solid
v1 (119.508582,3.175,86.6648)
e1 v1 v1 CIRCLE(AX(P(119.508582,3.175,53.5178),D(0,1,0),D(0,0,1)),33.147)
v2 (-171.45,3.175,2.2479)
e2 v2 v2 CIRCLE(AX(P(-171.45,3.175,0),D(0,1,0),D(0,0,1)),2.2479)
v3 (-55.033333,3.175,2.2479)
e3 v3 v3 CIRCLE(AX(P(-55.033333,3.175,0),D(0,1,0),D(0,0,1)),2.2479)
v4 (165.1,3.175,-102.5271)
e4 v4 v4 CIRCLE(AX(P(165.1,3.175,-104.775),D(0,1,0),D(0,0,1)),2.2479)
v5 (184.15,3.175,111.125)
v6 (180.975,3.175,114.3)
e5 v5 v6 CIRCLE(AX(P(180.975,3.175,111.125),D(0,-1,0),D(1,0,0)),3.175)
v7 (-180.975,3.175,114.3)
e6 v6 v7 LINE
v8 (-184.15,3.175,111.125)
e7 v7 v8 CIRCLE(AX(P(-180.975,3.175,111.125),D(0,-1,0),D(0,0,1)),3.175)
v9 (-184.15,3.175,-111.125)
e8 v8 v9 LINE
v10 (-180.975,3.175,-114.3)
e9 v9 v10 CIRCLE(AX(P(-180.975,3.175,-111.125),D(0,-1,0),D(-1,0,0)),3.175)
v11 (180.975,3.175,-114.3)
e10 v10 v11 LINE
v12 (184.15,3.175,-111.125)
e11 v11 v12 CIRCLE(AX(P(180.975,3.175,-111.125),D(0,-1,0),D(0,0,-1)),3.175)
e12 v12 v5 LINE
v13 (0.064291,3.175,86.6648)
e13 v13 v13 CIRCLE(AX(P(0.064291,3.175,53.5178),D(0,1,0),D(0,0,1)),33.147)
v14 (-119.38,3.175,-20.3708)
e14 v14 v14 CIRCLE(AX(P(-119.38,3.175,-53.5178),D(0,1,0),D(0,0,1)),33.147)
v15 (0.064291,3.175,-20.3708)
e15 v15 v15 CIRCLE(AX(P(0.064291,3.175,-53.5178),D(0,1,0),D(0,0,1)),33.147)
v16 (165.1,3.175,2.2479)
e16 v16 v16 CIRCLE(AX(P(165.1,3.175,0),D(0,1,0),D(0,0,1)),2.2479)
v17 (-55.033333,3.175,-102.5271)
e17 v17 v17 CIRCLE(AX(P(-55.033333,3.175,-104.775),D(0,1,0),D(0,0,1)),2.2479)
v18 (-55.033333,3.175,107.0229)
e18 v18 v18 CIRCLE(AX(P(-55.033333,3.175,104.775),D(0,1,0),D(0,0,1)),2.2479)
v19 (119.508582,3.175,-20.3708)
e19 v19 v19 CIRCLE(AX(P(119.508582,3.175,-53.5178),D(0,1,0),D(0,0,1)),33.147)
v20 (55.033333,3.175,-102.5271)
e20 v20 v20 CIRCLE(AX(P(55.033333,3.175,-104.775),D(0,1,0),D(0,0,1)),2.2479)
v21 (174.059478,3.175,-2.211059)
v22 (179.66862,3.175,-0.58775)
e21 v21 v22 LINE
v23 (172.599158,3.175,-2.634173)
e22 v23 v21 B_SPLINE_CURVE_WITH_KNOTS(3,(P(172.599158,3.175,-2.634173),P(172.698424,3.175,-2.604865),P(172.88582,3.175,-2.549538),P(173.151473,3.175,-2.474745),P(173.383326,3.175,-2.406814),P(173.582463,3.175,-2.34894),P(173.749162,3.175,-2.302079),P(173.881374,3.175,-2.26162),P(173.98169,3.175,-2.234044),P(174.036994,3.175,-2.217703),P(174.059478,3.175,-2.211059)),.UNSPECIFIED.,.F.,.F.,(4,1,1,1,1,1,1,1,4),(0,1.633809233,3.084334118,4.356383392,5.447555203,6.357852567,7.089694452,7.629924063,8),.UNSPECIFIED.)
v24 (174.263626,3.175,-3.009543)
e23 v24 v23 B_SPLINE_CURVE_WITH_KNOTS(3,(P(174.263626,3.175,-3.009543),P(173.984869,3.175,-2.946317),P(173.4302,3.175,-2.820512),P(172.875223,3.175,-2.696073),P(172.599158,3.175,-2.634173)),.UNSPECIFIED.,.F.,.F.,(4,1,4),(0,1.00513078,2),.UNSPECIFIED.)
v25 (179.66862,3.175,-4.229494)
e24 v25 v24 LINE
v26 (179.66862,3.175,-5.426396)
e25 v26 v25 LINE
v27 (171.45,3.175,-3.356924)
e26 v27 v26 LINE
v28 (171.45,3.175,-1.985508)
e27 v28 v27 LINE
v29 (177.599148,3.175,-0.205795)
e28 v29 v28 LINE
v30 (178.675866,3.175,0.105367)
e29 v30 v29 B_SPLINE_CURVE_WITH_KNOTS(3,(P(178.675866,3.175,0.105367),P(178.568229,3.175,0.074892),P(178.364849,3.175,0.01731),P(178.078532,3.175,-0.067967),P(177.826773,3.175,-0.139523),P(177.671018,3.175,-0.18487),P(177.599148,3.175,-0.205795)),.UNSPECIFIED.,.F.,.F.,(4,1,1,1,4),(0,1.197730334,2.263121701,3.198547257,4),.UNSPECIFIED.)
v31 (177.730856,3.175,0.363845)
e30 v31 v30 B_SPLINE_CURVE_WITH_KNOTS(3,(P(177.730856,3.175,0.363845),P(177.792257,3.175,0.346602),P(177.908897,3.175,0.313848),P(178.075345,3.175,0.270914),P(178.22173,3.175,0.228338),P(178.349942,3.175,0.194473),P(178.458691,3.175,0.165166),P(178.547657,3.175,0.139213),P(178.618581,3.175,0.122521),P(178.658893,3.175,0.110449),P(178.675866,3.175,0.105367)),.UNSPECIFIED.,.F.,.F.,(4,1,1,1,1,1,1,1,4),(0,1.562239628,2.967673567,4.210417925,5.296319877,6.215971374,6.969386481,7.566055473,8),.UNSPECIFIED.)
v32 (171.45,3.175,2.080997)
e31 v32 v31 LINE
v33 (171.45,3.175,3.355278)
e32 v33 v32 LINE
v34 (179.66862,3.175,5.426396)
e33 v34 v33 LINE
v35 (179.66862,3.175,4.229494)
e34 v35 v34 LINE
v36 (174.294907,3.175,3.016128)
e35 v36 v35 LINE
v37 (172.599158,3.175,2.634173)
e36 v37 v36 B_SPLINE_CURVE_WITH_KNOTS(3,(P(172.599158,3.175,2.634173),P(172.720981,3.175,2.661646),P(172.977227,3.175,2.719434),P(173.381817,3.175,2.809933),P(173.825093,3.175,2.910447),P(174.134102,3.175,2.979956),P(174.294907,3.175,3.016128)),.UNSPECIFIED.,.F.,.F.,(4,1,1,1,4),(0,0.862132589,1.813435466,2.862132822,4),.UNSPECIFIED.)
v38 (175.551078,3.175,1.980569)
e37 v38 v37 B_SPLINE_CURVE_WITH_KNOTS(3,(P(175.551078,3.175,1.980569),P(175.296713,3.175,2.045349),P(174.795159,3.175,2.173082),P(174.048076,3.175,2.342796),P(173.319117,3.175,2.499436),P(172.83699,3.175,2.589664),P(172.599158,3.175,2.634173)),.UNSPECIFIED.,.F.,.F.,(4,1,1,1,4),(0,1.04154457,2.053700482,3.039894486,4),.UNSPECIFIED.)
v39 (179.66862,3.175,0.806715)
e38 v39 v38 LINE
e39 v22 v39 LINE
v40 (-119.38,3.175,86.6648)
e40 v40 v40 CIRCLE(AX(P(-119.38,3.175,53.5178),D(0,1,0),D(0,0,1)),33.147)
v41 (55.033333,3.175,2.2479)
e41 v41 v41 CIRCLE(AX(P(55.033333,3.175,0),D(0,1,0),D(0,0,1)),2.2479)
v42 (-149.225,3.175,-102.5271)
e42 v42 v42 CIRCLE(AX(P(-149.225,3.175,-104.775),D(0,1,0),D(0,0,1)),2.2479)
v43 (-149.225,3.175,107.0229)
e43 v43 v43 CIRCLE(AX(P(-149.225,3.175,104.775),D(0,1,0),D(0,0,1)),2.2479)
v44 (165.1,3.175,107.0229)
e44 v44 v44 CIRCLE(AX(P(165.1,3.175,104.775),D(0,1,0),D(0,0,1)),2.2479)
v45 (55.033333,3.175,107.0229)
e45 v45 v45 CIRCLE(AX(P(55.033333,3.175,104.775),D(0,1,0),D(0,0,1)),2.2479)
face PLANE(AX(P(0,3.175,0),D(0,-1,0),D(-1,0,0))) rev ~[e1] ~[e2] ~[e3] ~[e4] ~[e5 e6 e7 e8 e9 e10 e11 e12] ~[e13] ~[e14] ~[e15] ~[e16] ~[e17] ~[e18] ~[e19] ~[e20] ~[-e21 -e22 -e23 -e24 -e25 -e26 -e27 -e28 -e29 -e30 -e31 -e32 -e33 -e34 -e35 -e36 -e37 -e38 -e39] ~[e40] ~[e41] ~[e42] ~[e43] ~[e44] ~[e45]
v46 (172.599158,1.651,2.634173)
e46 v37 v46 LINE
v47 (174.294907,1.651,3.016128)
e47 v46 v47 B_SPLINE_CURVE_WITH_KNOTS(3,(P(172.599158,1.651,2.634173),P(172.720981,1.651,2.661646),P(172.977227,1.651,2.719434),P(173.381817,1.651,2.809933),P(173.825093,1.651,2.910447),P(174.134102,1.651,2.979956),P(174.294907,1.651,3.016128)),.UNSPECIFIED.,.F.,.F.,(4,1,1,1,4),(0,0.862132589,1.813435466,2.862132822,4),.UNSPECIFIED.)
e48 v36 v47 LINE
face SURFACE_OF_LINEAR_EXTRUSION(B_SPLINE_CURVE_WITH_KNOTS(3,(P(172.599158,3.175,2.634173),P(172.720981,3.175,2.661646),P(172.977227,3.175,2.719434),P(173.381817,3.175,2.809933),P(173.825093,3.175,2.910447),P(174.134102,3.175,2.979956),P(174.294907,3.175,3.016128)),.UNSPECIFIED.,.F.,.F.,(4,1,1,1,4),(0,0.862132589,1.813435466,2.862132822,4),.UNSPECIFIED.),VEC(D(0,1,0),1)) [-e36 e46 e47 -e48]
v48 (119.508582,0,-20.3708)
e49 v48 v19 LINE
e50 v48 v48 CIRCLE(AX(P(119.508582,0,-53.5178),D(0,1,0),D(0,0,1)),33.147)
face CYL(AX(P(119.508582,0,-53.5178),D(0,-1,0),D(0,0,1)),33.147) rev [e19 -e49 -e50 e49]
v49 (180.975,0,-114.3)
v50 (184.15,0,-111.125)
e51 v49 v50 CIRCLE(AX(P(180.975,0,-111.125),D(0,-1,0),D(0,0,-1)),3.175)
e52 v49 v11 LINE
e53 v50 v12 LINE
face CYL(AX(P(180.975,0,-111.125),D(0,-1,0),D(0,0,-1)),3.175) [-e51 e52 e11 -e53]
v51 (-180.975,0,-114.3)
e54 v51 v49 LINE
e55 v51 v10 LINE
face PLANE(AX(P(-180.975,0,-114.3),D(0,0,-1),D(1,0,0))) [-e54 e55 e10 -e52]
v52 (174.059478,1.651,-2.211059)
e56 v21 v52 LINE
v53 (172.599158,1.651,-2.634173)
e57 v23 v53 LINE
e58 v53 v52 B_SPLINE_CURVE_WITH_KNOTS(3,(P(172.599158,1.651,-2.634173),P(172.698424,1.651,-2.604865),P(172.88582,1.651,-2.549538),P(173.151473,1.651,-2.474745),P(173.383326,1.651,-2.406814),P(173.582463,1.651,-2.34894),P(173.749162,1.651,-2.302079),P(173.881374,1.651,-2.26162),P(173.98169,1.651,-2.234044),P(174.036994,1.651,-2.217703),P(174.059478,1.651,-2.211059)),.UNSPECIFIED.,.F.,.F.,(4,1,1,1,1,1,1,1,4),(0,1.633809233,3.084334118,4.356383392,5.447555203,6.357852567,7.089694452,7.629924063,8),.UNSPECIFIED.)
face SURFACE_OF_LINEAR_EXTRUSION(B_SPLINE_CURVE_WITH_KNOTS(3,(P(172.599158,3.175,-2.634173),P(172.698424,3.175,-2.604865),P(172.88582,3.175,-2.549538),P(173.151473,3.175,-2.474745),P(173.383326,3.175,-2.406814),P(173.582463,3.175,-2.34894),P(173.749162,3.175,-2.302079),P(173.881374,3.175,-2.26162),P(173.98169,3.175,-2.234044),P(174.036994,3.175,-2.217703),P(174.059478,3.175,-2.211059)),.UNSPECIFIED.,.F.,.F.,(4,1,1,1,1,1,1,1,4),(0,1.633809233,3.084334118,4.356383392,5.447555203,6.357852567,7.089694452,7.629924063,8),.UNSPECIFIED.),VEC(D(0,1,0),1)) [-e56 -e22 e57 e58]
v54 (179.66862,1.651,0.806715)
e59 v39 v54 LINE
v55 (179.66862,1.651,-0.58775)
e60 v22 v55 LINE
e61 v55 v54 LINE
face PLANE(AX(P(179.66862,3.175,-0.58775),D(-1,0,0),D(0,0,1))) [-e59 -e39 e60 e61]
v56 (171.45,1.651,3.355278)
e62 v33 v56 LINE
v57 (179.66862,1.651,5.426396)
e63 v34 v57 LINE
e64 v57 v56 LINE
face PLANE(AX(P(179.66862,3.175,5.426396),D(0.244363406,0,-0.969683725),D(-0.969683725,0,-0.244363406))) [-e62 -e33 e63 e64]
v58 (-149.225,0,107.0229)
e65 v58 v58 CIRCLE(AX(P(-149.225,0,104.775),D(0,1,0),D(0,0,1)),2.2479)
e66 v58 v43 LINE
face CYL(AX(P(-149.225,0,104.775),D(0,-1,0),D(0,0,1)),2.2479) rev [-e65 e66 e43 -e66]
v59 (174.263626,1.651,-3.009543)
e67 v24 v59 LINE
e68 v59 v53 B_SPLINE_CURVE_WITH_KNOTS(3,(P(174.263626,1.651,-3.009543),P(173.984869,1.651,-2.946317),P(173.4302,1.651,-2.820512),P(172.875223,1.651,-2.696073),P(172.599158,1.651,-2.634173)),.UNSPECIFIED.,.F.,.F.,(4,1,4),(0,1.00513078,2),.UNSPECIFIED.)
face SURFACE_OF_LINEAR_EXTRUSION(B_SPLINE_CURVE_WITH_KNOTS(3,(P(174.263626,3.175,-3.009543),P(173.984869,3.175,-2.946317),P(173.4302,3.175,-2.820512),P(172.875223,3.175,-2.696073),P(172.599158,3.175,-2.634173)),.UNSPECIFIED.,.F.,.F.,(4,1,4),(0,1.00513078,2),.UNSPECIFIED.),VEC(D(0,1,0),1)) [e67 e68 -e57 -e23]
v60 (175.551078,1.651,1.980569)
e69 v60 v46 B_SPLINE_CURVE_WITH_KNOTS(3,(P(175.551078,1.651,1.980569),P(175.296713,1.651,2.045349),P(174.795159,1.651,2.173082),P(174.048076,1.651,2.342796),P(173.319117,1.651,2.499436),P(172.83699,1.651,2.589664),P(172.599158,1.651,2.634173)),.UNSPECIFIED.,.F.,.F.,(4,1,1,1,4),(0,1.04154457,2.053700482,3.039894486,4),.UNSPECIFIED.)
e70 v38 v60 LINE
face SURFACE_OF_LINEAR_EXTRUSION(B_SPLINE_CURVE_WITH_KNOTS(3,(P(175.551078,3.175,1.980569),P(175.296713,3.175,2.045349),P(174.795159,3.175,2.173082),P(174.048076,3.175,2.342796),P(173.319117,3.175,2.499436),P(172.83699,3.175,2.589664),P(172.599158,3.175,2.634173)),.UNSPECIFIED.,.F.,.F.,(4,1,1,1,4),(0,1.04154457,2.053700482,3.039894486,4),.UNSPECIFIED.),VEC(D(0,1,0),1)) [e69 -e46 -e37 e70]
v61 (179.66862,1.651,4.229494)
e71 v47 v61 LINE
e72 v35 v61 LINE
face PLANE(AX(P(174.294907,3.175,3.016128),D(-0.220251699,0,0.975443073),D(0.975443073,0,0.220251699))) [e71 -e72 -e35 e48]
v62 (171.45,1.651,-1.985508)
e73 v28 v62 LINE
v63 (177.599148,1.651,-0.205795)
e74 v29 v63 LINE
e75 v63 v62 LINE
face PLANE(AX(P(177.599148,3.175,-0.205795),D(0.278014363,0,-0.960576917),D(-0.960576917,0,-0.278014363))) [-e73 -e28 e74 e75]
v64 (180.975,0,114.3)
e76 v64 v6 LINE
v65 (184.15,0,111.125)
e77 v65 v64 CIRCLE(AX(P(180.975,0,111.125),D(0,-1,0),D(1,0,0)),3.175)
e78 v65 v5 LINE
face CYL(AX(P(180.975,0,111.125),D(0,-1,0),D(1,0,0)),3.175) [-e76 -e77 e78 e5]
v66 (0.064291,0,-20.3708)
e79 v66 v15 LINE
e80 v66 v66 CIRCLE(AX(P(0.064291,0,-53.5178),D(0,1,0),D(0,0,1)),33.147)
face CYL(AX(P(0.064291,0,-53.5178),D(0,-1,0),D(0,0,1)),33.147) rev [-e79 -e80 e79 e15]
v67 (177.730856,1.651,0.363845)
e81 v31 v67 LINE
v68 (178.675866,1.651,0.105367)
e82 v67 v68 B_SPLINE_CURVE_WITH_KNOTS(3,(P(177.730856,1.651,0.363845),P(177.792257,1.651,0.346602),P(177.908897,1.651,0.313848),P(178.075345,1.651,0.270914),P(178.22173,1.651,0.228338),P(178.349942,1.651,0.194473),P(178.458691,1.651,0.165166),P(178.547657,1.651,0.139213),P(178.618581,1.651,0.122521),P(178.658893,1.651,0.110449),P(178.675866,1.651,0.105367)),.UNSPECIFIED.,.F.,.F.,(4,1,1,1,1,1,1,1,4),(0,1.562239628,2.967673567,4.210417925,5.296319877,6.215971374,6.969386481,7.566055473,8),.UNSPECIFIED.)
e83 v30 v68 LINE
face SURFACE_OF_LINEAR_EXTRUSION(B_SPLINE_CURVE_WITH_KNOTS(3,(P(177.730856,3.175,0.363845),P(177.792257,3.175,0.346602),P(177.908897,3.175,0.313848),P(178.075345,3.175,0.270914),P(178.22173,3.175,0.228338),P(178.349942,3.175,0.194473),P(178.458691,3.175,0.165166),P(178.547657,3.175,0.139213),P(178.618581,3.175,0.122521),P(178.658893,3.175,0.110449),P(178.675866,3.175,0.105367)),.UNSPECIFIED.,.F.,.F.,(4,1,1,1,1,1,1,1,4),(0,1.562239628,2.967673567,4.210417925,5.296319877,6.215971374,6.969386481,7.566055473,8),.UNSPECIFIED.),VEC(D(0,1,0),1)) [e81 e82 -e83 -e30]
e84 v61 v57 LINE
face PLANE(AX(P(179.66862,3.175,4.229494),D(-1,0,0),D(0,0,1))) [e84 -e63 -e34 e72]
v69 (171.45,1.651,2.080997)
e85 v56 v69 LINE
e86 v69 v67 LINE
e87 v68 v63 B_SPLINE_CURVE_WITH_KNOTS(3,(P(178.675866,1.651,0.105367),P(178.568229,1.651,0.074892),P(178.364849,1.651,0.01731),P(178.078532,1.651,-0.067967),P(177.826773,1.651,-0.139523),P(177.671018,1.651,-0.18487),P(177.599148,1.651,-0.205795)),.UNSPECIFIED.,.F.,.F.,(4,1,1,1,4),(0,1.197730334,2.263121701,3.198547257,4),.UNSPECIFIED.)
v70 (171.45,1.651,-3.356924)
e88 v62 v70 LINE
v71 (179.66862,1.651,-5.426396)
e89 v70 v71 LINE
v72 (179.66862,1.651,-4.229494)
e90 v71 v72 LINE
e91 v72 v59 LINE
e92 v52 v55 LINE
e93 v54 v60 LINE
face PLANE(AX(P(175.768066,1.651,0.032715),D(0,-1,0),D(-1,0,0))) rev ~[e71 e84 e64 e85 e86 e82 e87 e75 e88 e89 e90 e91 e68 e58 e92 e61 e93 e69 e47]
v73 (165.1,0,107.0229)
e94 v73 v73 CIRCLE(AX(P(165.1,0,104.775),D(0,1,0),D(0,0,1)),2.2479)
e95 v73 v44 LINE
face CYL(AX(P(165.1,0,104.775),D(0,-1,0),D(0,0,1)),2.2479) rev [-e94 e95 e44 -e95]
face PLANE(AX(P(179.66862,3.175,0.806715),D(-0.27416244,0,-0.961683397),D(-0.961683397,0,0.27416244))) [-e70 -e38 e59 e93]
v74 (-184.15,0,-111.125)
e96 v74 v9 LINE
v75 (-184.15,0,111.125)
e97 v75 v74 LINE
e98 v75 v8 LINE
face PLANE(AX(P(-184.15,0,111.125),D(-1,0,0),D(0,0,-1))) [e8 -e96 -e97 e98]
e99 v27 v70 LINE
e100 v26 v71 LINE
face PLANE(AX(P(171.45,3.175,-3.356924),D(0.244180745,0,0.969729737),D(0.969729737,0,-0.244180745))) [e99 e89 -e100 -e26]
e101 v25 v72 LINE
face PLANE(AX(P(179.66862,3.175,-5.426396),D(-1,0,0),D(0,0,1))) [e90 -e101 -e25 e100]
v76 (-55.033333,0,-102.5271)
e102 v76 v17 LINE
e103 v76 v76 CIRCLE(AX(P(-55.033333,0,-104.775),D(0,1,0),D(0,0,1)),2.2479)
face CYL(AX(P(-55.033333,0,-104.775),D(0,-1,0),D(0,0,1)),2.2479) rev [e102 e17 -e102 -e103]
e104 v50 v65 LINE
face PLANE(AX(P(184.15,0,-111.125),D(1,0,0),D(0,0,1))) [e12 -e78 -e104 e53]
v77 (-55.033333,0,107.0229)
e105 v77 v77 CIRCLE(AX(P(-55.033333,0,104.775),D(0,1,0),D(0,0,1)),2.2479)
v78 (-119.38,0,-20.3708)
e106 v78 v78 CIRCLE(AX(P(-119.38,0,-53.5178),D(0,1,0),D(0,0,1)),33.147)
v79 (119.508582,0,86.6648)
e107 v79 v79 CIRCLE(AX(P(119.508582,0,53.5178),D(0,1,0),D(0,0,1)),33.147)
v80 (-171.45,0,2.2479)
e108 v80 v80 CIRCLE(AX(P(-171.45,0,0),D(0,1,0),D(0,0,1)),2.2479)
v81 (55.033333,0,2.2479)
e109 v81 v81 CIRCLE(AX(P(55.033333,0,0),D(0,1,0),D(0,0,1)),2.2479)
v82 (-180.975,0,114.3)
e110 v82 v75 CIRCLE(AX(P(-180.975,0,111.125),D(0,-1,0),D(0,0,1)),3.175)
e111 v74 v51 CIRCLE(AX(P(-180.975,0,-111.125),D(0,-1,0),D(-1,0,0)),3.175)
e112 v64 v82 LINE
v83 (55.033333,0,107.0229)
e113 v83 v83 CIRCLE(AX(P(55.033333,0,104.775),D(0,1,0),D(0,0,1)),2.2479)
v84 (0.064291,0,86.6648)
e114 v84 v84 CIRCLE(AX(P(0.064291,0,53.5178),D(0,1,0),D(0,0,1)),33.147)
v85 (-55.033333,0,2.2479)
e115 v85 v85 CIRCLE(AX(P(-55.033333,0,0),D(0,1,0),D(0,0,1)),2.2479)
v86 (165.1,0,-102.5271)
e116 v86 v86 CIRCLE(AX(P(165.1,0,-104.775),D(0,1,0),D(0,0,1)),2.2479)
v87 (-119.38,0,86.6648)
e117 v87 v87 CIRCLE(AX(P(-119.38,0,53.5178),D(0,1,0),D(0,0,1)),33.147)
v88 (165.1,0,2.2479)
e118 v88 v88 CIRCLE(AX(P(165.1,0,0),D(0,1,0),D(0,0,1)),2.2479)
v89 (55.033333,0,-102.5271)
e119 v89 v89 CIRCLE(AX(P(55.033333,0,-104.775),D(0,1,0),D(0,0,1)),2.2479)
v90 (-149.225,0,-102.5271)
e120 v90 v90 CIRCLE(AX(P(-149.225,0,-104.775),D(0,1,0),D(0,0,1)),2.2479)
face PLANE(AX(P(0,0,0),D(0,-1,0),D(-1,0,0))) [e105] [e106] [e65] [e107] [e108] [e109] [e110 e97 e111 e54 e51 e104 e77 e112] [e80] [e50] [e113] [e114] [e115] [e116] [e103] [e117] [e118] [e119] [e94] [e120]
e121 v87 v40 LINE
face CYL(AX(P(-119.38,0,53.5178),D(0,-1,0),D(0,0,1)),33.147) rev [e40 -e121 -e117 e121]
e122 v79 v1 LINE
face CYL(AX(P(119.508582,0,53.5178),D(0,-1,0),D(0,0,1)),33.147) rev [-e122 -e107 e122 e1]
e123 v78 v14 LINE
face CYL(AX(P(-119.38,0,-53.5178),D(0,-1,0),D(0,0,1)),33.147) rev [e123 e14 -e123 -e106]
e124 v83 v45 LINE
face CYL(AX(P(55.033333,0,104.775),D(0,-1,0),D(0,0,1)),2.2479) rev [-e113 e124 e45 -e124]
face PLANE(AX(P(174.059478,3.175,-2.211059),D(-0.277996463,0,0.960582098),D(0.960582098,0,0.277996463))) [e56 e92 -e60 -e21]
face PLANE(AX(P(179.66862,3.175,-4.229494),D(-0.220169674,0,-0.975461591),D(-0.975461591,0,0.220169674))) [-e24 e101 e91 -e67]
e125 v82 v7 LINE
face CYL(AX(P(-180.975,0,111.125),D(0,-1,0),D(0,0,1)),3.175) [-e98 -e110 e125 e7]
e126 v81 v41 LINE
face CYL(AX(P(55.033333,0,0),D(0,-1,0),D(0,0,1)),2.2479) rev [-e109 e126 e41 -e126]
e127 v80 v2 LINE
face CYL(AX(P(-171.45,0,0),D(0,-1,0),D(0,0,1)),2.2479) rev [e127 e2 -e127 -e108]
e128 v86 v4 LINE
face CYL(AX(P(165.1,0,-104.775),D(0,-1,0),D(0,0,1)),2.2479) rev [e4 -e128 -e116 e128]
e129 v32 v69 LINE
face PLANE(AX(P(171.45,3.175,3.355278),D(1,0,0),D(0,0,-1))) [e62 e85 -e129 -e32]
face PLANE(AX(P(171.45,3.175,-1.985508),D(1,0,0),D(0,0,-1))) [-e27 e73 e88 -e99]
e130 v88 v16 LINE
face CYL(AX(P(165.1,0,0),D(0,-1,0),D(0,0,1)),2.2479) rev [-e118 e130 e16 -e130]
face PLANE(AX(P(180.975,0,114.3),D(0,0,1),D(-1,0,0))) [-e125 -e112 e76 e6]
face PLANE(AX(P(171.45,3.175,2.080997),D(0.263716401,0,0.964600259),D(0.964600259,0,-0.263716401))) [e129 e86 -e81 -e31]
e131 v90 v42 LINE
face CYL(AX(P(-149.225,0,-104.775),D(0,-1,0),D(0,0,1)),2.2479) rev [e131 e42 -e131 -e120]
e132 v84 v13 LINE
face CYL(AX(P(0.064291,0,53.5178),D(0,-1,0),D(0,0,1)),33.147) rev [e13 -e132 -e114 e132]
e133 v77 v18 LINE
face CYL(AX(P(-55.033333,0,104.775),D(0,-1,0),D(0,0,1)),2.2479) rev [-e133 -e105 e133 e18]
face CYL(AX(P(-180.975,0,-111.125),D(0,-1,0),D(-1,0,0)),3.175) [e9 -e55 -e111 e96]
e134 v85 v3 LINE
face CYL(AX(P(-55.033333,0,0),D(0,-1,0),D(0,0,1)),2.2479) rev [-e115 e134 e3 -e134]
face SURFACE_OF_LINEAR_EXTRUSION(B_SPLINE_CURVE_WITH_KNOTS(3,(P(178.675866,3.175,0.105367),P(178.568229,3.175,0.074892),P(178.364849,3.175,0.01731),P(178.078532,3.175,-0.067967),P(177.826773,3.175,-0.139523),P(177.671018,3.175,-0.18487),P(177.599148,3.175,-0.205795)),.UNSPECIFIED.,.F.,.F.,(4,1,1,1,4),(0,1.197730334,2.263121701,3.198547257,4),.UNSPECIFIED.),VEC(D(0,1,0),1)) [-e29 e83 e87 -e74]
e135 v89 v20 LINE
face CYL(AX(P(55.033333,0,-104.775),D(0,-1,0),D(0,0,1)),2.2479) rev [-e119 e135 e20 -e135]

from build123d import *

# Parameters (mm, degrees)
SKETCH1_R           = 33.147
SKETCH1_R_2         = 2.2479
BOSS_EXTRUDE1_DEPTH = 3.175
CUT_EXTRUDE1_DEPTH  = 1.524


with BuildPart() as part:
    # Sketch1 → Boss-Extrude1 (new body)
    with BuildSketch(Plane(origin=(0, 0, 0), x_dir=(1, 0, 0), z_dir=(0, 1, 0))):
        with BuildLine():
            Line((-180.975, 114.3), (180.975, 114.3))
            ThreePointArc((180.975, 114.3), (183.22006403, 113.37006403), (184.15, 111.125))
            Line((184.15, 111.125), (184.15, -111.125))
            ThreePointArc((184.15, -111.125), (183.22006403, -113.37006403), (180.975, -114.3))
            Line((180.975, -114.3), (-180.975, -114.3))
            ThreePointArc((-180.975, -114.3), (-183.22006403, -113.37006403), (-184.15, -111.125))
            Line((-184.15, -111.125), (-184.15, 111.125))
            ThreePointArc((-184.15, 111.125), (-183.22006403, 113.37006403), (-180.975, 114.3))
        make_face()
        with Locations(Location((119.508581684, -53.5178, 0), (0, 0, 270))):
            Circle(SKETCH1_R, mode=Mode.SUBTRACT)
        with Locations(Location((165.1, 0, 0), (0, 0, 270))):
            Circle(SKETCH1_R_2, mode=Mode.SUBTRACT)
        with Locations(Location((-171.45, 0, 0), (0, 0, 270))):
            Circle(SKETCH1_R_2, mode=Mode.SUBTRACT)
        with Locations(Location((-55.033333333, 0, 0), (0, 0, 270))):
            Circle(SKETCH1_R_2, mode=Mode.SUBTRACT)
        with Locations(Location((55.033333333, 0, 0), (0, 0, 270))):
            Circle(SKETCH1_R_2, mode=Mode.SUBTRACT)
        with Locations(Location((119.508581684, 53.5178, 0), (0, 0, 270))):
            Circle(SKETCH1_R, mode=Mode.SUBTRACT)
        with Locations(Location((0.064290842, 53.5178, 0), (0, 0, 270))):
            Circle(SKETCH1_R, mode=Mode.SUBTRACT)
        with Locations(Location((0.064290842, -53.5178, 0), (0, 0, 270))):
            Circle(SKETCH1_R, mode=Mode.SUBTRACT)
        with Locations(Location((-119.38, 53.5178, 0), (0, 0, 270))):
            Circle(SKETCH1_R, mode=Mode.SUBTRACT)
        with Locations(Location((-119.38, -53.5178, 0), (0, 0, 270))):
            Circle(SKETCH1_R, mode=Mode.SUBTRACT)
        with Locations(Location((-149.225, -104.775, 0), (0, 0, 270))):
            Circle(SKETCH1_R_2, mode=Mode.SUBTRACT)
        with Locations(Location((-55.033333333, -104.775, 0), (0, 0, 270))):
            Circle(SKETCH1_R_2, mode=Mode.SUBTRACT)
        with Locations(Location((55.033333333, -104.775, 0), (0, 0, 270))):
            Circle(SKETCH1_R_2, mode=Mode.SUBTRACT)
        with Locations(Location((165.1, -104.775, 0), (0, 0, 270))):
            Circle(SKETCH1_R_2, mode=Mode.SUBTRACT)
        with Locations(Location((-149.225, 104.775, 0), (0, 0, 270))):
            Circle(SKETCH1_R_2, mode=Mode.SUBTRACT)
        with Locations(Location((-55.033333333, 104.775, 0), (0, 0, 270))):
            Circle(SKETCH1_R_2, mode=Mode.SUBTRACT)
        with Locations(Location((55.033333333, 104.775, 0), (0, 0, 270))):
            Circle(SKETCH1_R_2, mode=Mode.SUBTRACT)
        with Locations(Location((165.1, 104.775, 0), (0, 0, 270))):
            Circle(SKETCH1_R_2, mode=Mode.SUBTRACT)
    extrude(amount=BOSS_EXTRUDE1_DEPTH)

    # Sketch2 → Cut-Extrude1 (cut)
    with BuildSketch(Plane(origin=(0, 3.175, 0), x_dir=(1, 0, 0), z_dir=(0, 1, 0))):
        with BuildLine():
            Line((171.45, 3.35692423), (179.668619792, 5.426396401))
            Line((179.668619792, 5.426396401), (179.668619792, 4.229494039))
            Line((179.668619792, 4.229494039), (174.263626046, 3.009542664))
            add(Edge.make_bspline(
                [(174.263626046, 3.009542664), (173.984868687, 2.946317196), (173.430199851, 2.82051174), (172.875222779, 2.696073098), (172.599157976, 2.63417301)],
                knots=[0, 0, 0, 0, 1.00513078, 2, 2, 2, 2], degree=3))
            add(Edge.make_bspline(
                [(172.599157976, 2.63417301), (172.698424046, 2.604865261), (172.8858203, 2.549537571), (173.151472547, 2.474745256), (173.383326442, 2.406813793), (173.582462852, 2.348939672), (173.749161553, 2.302079221), (173.881374159, 2.261620439), (173.981689825, 2.234044239), (174.036994185, 2.217702533), (174.059477638, 2.21105897)],
                knots=[0, 0, 0, 0, 1.633809233, 3.084334118, 4.356383392, 5.447555203, 6.357852567, 7.089694452, 7.629924063, 8, 8, 8, 8], degree=3))
            Line((174.059477638, 2.21105897), (179.668619792, 0.587749853))
            Line((179.668619792, 0.587749853), (179.668619792, -0.806715484))
            Line((179.668619792, -0.806715484), (175.551078105, -1.980568832))
            add(Edge.make_bspline(
                [(175.551078105, -1.980568832), (175.296712529, -2.045349191), (174.795158662, -2.173082039), (174.048075598, -2.342795744), (173.319116921, -2.49943607), (172.836990124, -2.589663839), (172.599157976, -2.63417301)],
                knots=[0, 0, 0, 0, 1.04154457, 2.053700482, 3.039894486, 4, 4, 4, 4], degree=3))
            add(Edge.make_bspline(
                [(172.599157976, -2.63417301), (172.720980898, -2.661645998), (172.977226876, -2.719433502), (173.381816931, -2.809933441), (173.825093055, -2.910447181), (174.134101714, -2.979956246), (174.294906851, -3.016128097)],
                knots=[0, 0, 0, 0, 0.862132589, 1.813435466, 2.862132822, 4, 4, 4, 4], degree=3))
            Line((174.294906851, -3.016128097), (179.668619792, -4.229494039))
            Line((179.668619792, -4.229494039), (179.668619792, -5.426396401))
            Line((179.668619792, -5.426396401), (171.45, -3.355277872))
            Line((171.45, -3.355277872), (171.45, -2.080996678))
            Line((171.45, -2.080996678), (177.730856271, -0.363845147))
            add(Edge.make_bspline(
                [(177.730856271, -0.363845147), (177.792257478, -0.346602472), (177.908896909, -0.31384781), (178.075345329, -0.27091412), (178.221729866, -0.228338076), (178.349942301, -0.194473031), (178.458690649, -0.165165669), (178.547656515, -0.139212748), (178.618581103, -0.122520526), (178.658892529, -0.110449487), (178.675865838, -0.10536692)],
                knots=[0, 0, 0, 0, 1.562239628, 2.967673567, 4.210417925, 5.296319877, 6.215971374, 6.969386481, 7.566055473, 8, 8, 8, 8], degree=3))
            add(Edge.make_bspline(
                [(178.675865838, -0.10536692), (178.568229296, -0.074892118), (178.364849129, -0.017309719), (178.078532422, 0.067967153), (177.826773257, 0.139523409), (177.671018148, 0.184870245), (177.599147621, 0.205794766)],
                knots=[0, 0, 0, 0, 1.197730334, 2.263121701, 3.198547257, 4, 4, 4, 4], degree=3))
            Line((177.599147621, 0.205794766), (171.45, 1.985507906))
            Line((171.45, 1.985507906), (171.45, 3.35692423))
        make_face()
    extrude(amount=-CUT_EXTRUDE1_DEPTH, mode=Mode.SUBTRACT)


solid = part.part
